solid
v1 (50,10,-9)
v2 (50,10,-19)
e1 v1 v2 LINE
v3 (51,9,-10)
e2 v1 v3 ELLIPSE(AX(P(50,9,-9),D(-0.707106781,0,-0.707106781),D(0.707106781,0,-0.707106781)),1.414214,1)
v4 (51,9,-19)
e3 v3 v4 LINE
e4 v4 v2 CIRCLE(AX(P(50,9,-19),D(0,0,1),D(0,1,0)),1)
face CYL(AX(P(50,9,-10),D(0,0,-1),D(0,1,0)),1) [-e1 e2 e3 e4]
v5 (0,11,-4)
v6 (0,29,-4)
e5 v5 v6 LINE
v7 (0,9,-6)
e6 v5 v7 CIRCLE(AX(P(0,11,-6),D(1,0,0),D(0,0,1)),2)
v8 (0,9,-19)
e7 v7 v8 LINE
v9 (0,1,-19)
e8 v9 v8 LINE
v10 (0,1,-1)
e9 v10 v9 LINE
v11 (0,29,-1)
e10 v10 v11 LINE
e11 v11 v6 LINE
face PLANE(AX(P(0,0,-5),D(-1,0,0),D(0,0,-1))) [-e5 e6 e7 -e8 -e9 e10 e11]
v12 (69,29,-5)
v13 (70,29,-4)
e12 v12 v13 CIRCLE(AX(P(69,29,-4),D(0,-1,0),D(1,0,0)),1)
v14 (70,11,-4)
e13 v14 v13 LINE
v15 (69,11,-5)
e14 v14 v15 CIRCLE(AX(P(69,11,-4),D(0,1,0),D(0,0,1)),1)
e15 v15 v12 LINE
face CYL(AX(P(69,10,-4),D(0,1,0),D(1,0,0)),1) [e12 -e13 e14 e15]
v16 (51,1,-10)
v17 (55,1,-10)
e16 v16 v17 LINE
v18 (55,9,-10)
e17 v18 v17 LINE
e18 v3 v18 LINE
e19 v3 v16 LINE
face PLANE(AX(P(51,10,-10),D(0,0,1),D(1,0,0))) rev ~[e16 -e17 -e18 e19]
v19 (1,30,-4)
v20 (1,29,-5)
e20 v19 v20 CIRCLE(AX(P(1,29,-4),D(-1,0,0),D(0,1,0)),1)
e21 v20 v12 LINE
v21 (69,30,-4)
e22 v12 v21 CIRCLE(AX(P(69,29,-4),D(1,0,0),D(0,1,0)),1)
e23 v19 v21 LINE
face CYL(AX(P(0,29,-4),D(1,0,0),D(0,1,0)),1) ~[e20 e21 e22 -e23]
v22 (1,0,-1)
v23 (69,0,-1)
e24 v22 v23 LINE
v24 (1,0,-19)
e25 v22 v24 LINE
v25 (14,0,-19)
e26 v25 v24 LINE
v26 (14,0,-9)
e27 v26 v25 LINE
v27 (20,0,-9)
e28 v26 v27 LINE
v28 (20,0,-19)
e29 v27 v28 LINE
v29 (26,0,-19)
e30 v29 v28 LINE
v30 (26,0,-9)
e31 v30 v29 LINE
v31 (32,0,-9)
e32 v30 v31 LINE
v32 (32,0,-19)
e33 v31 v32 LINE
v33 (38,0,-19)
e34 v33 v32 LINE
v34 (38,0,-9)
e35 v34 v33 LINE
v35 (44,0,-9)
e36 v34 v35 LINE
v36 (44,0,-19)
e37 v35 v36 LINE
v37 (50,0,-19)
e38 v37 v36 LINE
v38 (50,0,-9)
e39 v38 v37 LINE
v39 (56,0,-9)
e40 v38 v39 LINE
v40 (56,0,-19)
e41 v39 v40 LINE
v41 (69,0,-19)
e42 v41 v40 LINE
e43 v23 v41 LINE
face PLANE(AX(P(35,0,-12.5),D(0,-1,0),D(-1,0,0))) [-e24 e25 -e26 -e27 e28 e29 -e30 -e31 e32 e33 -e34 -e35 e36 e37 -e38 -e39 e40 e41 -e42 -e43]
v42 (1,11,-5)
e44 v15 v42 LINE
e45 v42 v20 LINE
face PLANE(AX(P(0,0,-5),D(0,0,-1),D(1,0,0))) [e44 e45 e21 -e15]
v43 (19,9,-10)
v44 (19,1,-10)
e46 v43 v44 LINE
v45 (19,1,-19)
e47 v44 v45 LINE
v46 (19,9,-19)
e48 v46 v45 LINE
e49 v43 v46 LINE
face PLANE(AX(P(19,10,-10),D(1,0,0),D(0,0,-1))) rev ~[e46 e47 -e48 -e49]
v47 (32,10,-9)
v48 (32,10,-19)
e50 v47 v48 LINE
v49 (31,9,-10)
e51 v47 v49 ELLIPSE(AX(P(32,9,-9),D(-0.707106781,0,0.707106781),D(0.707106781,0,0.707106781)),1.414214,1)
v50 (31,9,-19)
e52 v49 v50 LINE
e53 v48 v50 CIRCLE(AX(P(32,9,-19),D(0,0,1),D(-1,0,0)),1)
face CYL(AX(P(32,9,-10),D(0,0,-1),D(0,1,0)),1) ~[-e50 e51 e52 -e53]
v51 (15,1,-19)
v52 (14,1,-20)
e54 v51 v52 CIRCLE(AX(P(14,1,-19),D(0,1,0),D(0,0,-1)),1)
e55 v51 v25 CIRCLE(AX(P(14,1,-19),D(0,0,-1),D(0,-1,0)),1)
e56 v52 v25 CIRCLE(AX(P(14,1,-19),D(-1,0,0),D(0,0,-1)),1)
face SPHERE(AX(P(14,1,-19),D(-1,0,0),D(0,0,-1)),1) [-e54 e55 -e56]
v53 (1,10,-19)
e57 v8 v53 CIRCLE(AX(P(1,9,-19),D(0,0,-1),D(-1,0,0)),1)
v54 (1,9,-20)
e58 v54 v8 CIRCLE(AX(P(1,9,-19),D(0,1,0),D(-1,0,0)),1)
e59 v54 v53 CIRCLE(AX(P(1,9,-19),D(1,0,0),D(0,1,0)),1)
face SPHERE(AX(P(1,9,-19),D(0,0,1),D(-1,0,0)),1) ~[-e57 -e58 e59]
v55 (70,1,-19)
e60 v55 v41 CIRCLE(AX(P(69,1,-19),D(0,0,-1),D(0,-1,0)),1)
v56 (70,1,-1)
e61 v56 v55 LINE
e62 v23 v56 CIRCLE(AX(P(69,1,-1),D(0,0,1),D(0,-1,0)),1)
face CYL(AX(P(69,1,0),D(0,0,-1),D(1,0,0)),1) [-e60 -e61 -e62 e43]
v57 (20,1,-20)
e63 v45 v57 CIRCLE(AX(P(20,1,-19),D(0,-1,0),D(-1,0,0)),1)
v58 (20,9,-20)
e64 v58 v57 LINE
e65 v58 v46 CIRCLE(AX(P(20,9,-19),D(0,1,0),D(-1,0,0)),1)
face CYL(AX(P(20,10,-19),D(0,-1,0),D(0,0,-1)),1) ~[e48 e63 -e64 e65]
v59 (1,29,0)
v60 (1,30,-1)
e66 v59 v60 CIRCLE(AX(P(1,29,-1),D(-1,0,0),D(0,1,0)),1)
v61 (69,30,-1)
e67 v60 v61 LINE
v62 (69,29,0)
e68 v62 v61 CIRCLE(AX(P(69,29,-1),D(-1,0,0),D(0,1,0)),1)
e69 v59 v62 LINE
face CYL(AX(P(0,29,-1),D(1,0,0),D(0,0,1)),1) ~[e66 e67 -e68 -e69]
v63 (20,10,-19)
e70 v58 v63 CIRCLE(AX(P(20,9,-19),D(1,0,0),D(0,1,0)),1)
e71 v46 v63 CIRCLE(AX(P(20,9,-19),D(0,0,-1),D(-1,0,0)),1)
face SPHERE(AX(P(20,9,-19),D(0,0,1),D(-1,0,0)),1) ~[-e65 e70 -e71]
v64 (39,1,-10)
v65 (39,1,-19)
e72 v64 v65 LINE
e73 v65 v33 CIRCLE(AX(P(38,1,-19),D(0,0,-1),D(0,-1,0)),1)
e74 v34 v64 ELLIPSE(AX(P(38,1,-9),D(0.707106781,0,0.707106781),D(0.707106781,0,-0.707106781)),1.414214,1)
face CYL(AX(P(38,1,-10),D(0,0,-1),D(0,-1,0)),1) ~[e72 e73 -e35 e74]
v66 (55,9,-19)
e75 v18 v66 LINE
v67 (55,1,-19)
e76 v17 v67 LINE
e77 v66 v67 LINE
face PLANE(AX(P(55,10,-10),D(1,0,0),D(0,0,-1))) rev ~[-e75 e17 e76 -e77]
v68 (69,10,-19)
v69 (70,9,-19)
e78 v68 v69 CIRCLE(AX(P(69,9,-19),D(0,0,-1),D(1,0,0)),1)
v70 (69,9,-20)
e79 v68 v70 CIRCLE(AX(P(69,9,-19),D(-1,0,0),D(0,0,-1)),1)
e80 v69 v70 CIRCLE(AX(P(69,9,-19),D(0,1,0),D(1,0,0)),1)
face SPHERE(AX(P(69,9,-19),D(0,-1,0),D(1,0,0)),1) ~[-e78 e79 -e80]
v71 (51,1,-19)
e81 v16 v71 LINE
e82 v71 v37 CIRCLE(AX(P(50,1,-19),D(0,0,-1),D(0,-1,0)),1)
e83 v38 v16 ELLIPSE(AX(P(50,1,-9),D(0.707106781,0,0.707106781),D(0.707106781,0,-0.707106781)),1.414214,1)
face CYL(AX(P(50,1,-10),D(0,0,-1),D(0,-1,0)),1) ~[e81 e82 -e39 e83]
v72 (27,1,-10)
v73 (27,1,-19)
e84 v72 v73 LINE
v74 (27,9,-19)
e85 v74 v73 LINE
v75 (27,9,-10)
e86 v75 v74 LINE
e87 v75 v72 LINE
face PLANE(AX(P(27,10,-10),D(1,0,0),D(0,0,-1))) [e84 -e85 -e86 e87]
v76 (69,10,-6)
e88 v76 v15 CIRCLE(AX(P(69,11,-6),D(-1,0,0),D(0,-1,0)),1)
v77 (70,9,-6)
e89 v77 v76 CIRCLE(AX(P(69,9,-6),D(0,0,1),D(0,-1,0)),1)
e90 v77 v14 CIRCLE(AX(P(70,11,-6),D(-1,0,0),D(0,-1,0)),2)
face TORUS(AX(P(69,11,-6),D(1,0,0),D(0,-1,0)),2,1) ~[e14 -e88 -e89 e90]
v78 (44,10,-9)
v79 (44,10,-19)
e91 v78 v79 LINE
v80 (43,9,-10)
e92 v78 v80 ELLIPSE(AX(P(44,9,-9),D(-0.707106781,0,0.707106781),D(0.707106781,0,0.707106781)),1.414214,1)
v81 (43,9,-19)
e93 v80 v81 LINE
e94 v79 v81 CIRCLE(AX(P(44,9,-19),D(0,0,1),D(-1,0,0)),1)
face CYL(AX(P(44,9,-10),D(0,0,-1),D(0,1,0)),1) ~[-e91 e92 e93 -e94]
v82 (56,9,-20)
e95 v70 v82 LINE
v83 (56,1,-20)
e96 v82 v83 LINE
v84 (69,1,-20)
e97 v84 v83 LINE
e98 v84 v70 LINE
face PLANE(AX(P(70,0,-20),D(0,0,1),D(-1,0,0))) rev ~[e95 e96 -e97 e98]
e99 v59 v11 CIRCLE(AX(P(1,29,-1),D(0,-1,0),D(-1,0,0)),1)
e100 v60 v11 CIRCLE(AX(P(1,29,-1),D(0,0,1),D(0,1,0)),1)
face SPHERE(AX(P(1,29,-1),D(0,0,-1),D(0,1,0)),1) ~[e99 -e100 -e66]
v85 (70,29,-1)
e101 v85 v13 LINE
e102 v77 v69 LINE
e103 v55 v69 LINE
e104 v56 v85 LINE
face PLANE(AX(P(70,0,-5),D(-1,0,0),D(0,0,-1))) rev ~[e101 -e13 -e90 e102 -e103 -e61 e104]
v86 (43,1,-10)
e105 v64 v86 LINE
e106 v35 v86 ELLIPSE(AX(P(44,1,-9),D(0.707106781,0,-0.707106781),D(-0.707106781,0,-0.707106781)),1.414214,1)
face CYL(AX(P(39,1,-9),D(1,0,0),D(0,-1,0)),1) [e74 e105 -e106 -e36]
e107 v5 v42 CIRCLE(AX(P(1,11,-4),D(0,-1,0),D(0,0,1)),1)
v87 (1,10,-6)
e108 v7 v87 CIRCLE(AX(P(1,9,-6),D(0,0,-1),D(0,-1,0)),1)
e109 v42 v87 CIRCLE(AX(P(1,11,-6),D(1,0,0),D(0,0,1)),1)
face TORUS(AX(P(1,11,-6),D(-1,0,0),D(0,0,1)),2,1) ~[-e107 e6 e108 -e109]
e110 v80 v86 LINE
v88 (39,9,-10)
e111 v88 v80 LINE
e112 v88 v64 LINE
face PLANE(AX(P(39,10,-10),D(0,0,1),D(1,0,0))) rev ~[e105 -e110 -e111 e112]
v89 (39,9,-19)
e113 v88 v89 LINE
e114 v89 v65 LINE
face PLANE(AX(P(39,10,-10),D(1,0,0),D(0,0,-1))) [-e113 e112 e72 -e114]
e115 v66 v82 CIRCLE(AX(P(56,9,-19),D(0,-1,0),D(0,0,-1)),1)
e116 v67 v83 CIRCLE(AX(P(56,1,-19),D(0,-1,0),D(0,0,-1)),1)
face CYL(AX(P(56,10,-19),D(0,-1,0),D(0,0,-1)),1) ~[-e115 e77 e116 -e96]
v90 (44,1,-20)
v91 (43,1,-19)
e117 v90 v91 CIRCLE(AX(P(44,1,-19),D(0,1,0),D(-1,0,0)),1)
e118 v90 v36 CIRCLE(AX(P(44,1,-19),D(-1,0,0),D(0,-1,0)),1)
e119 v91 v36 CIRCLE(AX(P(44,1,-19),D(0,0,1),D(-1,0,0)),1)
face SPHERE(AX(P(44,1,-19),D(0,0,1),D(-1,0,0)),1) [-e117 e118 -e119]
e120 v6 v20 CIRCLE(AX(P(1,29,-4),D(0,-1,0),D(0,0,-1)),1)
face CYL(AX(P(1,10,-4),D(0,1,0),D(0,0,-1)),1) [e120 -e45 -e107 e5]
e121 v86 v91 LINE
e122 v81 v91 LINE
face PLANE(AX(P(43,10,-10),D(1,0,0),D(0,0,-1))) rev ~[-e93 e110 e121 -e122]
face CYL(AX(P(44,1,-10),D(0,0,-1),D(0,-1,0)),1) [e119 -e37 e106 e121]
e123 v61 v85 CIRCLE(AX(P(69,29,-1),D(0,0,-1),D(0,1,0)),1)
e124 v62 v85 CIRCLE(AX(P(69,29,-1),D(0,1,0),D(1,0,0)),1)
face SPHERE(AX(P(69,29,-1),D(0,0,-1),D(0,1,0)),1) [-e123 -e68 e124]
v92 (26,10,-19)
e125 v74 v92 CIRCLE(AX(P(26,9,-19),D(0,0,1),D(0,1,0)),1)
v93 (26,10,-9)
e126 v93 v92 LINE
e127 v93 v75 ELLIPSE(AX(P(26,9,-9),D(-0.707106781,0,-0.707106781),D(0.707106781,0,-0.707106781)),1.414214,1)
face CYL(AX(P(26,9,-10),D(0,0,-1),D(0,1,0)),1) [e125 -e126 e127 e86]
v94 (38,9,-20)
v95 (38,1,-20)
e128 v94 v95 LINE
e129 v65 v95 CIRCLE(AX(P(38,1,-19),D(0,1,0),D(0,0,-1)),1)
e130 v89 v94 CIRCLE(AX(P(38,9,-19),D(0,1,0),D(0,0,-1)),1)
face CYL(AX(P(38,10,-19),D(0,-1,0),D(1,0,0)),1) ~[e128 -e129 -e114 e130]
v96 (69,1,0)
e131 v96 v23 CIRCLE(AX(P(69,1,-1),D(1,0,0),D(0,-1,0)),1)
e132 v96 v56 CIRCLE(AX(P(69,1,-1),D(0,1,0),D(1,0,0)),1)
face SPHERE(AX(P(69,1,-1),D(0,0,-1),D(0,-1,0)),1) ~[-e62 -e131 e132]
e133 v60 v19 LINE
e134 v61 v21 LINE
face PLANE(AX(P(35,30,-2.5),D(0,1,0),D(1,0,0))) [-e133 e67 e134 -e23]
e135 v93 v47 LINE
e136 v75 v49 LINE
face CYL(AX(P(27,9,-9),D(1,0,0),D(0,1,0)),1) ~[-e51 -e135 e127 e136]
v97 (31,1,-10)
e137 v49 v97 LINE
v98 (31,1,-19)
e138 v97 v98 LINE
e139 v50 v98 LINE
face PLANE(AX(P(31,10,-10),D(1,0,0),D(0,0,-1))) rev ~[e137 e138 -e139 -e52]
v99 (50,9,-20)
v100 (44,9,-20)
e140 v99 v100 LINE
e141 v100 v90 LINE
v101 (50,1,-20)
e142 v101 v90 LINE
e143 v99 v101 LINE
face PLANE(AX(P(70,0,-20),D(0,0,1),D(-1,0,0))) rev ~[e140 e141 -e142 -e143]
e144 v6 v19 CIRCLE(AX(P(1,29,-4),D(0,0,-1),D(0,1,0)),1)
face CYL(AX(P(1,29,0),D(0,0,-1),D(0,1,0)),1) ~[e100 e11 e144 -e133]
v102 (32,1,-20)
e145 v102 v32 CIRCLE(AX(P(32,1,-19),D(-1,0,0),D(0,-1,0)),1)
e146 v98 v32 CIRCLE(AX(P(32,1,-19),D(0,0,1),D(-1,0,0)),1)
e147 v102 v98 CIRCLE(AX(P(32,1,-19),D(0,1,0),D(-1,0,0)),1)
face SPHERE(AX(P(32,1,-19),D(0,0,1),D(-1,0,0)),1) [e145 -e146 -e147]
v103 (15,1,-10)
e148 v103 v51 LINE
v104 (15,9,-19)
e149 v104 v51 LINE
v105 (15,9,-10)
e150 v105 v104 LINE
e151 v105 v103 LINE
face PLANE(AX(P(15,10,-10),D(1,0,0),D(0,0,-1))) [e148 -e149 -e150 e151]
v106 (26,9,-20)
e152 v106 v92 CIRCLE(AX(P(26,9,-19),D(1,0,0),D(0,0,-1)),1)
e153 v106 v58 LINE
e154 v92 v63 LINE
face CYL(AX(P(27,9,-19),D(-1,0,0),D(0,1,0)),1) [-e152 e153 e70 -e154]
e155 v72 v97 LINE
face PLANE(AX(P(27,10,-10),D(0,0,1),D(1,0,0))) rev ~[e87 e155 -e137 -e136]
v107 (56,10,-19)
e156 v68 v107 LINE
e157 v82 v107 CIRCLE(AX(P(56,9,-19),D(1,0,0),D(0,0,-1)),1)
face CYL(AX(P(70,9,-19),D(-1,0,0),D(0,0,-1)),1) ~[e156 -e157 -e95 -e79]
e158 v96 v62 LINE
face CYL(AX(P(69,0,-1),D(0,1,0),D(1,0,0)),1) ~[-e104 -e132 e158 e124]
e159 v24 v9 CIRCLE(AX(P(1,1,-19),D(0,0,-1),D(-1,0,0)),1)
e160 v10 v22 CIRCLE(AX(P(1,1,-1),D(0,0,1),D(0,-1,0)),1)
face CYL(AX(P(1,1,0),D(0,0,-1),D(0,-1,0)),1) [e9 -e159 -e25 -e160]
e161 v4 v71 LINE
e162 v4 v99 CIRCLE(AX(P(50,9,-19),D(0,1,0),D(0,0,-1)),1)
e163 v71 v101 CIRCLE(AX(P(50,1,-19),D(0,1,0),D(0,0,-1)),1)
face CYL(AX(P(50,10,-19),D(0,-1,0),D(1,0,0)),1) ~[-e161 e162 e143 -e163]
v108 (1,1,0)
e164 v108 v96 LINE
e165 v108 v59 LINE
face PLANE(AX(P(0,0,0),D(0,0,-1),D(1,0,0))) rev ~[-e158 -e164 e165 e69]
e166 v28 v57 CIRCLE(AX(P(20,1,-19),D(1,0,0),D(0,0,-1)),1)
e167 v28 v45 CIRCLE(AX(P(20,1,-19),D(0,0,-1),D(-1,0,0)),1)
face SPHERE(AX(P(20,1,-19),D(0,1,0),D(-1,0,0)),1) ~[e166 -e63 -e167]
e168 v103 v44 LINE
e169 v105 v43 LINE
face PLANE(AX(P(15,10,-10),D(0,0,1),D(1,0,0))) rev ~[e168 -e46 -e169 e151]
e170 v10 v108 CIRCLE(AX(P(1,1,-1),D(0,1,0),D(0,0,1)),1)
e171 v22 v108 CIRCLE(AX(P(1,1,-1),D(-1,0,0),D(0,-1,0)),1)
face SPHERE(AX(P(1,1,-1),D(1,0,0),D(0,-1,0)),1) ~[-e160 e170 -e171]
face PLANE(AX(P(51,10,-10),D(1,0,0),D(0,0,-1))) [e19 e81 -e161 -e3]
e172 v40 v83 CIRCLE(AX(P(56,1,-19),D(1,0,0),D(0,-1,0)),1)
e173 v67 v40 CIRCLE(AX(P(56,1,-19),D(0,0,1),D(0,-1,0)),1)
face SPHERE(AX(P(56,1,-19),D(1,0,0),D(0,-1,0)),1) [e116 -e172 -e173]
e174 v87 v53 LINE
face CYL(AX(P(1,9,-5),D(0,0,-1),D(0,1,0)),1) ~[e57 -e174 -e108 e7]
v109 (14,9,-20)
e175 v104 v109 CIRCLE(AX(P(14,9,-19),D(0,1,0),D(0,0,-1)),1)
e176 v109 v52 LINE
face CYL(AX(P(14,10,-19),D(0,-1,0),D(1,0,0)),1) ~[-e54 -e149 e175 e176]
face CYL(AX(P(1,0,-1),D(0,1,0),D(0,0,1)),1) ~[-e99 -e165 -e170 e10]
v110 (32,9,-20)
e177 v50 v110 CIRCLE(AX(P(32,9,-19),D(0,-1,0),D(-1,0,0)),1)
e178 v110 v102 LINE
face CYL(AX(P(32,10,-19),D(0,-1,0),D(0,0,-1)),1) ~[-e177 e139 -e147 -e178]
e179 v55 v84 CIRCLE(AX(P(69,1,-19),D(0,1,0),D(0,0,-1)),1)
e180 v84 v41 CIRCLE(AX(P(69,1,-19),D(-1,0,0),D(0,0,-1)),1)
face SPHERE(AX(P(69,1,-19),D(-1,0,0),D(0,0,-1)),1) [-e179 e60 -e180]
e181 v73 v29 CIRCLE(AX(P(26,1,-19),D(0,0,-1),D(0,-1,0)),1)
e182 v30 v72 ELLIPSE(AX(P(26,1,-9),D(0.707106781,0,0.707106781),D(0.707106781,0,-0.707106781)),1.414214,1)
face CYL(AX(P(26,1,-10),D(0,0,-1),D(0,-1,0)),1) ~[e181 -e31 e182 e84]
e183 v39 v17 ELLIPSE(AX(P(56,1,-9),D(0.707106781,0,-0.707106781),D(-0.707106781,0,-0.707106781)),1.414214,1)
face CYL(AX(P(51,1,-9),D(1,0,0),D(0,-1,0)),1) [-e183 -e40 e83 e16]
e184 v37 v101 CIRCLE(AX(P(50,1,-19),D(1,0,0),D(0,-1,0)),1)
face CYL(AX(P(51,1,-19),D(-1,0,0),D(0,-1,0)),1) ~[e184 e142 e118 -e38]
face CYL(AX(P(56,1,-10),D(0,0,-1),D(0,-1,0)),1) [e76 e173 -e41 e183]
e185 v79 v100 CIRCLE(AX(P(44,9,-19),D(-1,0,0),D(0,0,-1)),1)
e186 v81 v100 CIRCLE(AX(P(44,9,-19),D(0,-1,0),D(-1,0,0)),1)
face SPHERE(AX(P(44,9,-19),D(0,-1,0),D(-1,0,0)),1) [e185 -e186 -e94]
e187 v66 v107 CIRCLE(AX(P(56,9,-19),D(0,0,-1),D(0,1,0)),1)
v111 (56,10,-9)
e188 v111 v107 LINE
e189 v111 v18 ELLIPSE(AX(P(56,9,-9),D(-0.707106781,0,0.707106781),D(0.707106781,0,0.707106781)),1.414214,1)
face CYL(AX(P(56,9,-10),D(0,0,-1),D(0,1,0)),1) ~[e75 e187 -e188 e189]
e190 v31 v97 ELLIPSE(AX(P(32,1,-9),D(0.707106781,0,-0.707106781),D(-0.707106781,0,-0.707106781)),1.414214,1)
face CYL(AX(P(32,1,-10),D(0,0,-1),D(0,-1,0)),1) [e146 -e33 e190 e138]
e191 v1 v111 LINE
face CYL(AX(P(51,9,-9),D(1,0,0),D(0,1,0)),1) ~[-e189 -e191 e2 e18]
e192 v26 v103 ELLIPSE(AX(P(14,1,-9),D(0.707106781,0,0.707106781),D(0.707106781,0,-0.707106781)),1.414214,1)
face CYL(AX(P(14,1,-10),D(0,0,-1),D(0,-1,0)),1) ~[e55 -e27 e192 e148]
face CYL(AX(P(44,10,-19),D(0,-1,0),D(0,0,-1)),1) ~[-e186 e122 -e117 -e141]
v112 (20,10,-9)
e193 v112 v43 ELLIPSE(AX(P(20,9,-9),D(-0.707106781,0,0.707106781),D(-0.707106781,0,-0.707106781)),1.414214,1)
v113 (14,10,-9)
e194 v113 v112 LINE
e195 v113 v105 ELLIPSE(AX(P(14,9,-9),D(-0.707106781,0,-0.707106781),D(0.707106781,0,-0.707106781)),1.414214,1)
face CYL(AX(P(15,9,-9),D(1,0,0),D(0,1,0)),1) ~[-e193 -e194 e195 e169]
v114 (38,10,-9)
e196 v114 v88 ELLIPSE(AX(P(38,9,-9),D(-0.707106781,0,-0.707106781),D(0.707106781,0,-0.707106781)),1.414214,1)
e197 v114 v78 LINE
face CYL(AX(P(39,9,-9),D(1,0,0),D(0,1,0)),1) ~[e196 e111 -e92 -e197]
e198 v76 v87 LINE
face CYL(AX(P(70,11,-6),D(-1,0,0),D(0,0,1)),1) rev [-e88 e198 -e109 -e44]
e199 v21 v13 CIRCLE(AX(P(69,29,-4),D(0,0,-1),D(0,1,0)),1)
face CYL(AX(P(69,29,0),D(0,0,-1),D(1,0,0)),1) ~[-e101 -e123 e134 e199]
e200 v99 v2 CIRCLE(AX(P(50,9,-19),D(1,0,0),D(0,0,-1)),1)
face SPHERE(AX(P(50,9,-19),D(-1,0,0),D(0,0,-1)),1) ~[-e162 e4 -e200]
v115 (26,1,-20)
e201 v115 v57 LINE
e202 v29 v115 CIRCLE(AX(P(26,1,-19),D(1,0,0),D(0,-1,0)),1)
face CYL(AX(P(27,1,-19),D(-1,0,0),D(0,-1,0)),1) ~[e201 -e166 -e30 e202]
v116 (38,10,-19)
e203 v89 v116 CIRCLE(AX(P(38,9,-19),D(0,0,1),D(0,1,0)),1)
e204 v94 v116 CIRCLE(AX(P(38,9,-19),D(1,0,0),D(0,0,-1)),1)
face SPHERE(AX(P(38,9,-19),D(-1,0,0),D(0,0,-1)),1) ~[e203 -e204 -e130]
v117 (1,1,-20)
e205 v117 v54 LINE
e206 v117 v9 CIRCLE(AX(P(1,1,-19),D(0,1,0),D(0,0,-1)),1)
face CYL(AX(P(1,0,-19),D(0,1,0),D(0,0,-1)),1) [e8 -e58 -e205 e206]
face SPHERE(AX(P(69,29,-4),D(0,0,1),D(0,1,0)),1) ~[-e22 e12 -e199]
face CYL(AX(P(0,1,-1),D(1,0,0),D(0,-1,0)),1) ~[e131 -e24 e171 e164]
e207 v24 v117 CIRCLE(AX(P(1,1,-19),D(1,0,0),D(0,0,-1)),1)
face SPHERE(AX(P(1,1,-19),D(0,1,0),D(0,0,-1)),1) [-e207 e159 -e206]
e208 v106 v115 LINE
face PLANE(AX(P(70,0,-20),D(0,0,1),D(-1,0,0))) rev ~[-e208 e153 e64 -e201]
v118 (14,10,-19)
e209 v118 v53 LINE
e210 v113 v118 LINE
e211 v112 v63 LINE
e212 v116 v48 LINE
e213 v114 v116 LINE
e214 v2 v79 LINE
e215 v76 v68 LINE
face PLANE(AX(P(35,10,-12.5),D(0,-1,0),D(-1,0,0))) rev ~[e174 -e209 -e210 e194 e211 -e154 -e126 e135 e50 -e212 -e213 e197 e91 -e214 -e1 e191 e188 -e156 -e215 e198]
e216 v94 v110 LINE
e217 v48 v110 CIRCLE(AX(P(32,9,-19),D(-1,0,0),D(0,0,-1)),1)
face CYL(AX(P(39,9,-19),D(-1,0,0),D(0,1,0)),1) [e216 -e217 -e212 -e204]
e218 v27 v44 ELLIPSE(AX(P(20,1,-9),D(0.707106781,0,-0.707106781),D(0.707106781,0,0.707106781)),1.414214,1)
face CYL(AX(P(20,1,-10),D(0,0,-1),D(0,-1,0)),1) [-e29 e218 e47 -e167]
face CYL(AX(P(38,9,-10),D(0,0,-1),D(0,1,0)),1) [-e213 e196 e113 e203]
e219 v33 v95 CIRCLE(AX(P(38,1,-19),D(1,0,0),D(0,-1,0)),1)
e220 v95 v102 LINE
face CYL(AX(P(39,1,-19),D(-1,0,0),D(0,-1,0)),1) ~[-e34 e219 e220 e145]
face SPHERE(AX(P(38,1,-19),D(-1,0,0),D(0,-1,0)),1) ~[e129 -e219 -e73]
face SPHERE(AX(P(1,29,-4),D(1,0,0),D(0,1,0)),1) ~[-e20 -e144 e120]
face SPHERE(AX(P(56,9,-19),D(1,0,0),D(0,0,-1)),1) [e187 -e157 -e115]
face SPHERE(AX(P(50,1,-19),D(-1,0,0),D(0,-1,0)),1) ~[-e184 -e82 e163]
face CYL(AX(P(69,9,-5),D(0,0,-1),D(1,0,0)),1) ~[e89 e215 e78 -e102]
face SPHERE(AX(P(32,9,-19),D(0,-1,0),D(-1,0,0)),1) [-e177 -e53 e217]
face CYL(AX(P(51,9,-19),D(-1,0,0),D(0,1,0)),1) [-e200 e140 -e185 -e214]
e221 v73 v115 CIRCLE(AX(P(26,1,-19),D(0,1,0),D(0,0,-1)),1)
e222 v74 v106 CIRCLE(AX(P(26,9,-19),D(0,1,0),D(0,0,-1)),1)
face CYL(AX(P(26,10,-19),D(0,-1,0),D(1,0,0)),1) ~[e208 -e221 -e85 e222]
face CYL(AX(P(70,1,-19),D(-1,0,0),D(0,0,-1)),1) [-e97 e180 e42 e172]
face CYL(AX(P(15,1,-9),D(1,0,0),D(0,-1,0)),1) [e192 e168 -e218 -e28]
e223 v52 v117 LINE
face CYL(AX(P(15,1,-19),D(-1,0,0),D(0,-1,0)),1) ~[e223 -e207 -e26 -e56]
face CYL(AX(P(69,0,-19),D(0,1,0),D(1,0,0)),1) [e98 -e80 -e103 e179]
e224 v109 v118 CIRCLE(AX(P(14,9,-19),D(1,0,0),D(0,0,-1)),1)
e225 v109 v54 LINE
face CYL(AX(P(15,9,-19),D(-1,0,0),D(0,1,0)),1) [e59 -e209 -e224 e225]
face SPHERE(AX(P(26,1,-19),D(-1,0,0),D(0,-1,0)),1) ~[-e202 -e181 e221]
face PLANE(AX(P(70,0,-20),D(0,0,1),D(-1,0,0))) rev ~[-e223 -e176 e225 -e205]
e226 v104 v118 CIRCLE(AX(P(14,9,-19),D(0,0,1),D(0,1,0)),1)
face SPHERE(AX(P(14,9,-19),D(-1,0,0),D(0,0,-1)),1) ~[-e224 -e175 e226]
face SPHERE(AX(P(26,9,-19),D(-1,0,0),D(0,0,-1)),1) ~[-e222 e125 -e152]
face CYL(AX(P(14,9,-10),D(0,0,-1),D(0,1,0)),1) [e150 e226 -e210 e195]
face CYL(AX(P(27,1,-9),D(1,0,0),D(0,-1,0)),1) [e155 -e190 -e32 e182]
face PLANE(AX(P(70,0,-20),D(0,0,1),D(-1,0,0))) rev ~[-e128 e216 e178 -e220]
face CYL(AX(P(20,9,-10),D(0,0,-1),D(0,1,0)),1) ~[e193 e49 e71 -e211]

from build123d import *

# Parameters (mm, degrees)
SKETCH1_W           = 70
SKETCH1_H           = 5
BOSS_EXTRUDE1_DEPTH = 30
SKETCH4_W           = 70
SKETCH4_H           = 15
BOSS_EXTRUDE2_DEPTH = 10
SKETCH5_W           = 4
SKETCH5_H           = 10
CUT_EXTRUDE1_DEPTH  = 10
SKETCH6_W           = 4
SKETCH6_H           = 10
CUT_EXTRUDE2_DEPTH  = 10
SKETCH7_W           = 4
SKETCH7_H           = 10
CUT_EXTRUDE3_DEPTH  = 10
SKETCH8_W           = 4
SKETCH8_H           = 10
CUT_EXTRUDE4_DEPTH  = 10
FILLET5_R           = 1


with BuildPart() as part:
    # Sketch1 → Boss-Extrude1 (new body)
    with BuildSketch(Plane(origin=(0, 0, 0), x_dir=(1, 0, 0), z_dir=(0, 1, 0))):
        with Locations((35, 2.5)):
            Rectangle(SKETCH1_W, SKETCH1_H)
    extrude(amount=BOSS_EXTRUDE1_DEPTH)

    # Sketch4 → Boss-Extrude2 (add)
    with BuildSketch(Plane(origin=(0, 0, 0), x_dir=(-1, 0, 0), z_dir=(0, -1, 0))):
        with Locations((-35, 12.5)):
            Rectangle(SKETCH4_W, SKETCH4_H)
    extrude(amount=-BOSS_EXTRUDE2_DEPTH)

    # Sketch5 → Cut-Extrude1 (cut)
    with BuildSketch(Plane(origin=(0, 10, 0), x_dir=(1, 0, 0), z_dir=(0, 1, 0))):
        with Locations((17, 15)):
            Rectangle(SKETCH5_W, SKETCH5_H)
    extrude(amount=-CUT_EXTRUDE1_DEPTH, mode=Mode.SUBTRACT)

    # Sketch6 → Cut-Extrude2 (cut)
    with BuildSketch(Plane(origin=(0, 10, 0), x_dir=(1, 0, 0), z_dir=(0, 1, 0))):
        with Locations((29, 15)):
            Rectangle(SKETCH6_W, SKETCH6_H)
    extrude(amount=-CUT_EXTRUDE2_DEPTH, mode=Mode.SUBTRACT)

    # Sketch7 → Cut-Extrude3 (cut)
    with BuildSketch(Plane(origin=(0, 10, 0), x_dir=(1, 0, 0), z_dir=(0, 1, 0))):
        with Locations((41, 15)):
            Rectangle(SKETCH7_W, SKETCH7_H)
    extrude(amount=-CUT_EXTRUDE3_DEPTH, mode=Mode.SUBTRACT)

    # Sketch8 → Cut-Extrude4 (cut)
    with BuildSketch(Plane(origin=(0, 10, 0), x_dir=(1, 0, 0), z_dir=(0, 1, 0))):
        with Locations((53, 15)):
            Rectangle(SKETCH8_W, SKETCH8_H)
    extrude(amount=-CUT_EXTRUDE4_DEPTH, mode=Mode.SUBTRACT)

    # Fillet5
    fillet5_edges = [part.edges().sort_by_distance(p)[0] for p in [
        (70, 30, -2.5),
        (35, 30, -5),
        (62.5, 0, -20),
        (70, 5, -20),
        (0, 10, -12.5),
        (0, 5, -20),
        (35, 10, -5),
        (70, 10, -12.5),
        (62.5, 10, -20),
        (7.5, 10, -20),
        (7.5, 0, -20),
        (15, 5, -20),
        (19, 10, -15),
        (19, 5, -20),
        (17, 0, -10),
        (15, 0, -15),
        (19, 0, -15),
        (15, 10, -15),
        (17, 10, -10),
        (0, 30, -2.5),
        (23, 10, -20),
        (23, 0, -20),
        (27, 0, -15),
        (27, 5, -20),
        (31, 0, -15),
        (31, 5, -20),
        (29, 0, -10),
        (27, 10, -15),
        (29, 10, -10),
        (31, 10, -15),
        (70, 0, -10),
        (35, 0, 0),
        (0, 0, -10),
        (35, 10, -20),
        (35, 0, -20),
        (39, 0, -15),
        (39, 5, -20),
        (43, 0, -15),
        (43, 5, -20),
        (41, 0, -10),
        (39, 10, -15),
        (41, 10, -10),
        (43, 10, -15),
        (35, 30, 0),
        (47, 10, -20),
        (0, 20, -5),
        (47, 0, -20),
        (70, 20, -5),
        (70, 15, 0),
        (0, 15, 0),
        (51, 0, -15),
        (51, 5, -20),
        (55, 0, -15),
        (55, 5, -20),
        (53, 0, -10),
        (51, 10, -15),
        (53, 10, -10),
        (55, 10, -15),
    ]]
    fillet(fillet5_edges, radius=FILLET5_R)


solid = part.part
